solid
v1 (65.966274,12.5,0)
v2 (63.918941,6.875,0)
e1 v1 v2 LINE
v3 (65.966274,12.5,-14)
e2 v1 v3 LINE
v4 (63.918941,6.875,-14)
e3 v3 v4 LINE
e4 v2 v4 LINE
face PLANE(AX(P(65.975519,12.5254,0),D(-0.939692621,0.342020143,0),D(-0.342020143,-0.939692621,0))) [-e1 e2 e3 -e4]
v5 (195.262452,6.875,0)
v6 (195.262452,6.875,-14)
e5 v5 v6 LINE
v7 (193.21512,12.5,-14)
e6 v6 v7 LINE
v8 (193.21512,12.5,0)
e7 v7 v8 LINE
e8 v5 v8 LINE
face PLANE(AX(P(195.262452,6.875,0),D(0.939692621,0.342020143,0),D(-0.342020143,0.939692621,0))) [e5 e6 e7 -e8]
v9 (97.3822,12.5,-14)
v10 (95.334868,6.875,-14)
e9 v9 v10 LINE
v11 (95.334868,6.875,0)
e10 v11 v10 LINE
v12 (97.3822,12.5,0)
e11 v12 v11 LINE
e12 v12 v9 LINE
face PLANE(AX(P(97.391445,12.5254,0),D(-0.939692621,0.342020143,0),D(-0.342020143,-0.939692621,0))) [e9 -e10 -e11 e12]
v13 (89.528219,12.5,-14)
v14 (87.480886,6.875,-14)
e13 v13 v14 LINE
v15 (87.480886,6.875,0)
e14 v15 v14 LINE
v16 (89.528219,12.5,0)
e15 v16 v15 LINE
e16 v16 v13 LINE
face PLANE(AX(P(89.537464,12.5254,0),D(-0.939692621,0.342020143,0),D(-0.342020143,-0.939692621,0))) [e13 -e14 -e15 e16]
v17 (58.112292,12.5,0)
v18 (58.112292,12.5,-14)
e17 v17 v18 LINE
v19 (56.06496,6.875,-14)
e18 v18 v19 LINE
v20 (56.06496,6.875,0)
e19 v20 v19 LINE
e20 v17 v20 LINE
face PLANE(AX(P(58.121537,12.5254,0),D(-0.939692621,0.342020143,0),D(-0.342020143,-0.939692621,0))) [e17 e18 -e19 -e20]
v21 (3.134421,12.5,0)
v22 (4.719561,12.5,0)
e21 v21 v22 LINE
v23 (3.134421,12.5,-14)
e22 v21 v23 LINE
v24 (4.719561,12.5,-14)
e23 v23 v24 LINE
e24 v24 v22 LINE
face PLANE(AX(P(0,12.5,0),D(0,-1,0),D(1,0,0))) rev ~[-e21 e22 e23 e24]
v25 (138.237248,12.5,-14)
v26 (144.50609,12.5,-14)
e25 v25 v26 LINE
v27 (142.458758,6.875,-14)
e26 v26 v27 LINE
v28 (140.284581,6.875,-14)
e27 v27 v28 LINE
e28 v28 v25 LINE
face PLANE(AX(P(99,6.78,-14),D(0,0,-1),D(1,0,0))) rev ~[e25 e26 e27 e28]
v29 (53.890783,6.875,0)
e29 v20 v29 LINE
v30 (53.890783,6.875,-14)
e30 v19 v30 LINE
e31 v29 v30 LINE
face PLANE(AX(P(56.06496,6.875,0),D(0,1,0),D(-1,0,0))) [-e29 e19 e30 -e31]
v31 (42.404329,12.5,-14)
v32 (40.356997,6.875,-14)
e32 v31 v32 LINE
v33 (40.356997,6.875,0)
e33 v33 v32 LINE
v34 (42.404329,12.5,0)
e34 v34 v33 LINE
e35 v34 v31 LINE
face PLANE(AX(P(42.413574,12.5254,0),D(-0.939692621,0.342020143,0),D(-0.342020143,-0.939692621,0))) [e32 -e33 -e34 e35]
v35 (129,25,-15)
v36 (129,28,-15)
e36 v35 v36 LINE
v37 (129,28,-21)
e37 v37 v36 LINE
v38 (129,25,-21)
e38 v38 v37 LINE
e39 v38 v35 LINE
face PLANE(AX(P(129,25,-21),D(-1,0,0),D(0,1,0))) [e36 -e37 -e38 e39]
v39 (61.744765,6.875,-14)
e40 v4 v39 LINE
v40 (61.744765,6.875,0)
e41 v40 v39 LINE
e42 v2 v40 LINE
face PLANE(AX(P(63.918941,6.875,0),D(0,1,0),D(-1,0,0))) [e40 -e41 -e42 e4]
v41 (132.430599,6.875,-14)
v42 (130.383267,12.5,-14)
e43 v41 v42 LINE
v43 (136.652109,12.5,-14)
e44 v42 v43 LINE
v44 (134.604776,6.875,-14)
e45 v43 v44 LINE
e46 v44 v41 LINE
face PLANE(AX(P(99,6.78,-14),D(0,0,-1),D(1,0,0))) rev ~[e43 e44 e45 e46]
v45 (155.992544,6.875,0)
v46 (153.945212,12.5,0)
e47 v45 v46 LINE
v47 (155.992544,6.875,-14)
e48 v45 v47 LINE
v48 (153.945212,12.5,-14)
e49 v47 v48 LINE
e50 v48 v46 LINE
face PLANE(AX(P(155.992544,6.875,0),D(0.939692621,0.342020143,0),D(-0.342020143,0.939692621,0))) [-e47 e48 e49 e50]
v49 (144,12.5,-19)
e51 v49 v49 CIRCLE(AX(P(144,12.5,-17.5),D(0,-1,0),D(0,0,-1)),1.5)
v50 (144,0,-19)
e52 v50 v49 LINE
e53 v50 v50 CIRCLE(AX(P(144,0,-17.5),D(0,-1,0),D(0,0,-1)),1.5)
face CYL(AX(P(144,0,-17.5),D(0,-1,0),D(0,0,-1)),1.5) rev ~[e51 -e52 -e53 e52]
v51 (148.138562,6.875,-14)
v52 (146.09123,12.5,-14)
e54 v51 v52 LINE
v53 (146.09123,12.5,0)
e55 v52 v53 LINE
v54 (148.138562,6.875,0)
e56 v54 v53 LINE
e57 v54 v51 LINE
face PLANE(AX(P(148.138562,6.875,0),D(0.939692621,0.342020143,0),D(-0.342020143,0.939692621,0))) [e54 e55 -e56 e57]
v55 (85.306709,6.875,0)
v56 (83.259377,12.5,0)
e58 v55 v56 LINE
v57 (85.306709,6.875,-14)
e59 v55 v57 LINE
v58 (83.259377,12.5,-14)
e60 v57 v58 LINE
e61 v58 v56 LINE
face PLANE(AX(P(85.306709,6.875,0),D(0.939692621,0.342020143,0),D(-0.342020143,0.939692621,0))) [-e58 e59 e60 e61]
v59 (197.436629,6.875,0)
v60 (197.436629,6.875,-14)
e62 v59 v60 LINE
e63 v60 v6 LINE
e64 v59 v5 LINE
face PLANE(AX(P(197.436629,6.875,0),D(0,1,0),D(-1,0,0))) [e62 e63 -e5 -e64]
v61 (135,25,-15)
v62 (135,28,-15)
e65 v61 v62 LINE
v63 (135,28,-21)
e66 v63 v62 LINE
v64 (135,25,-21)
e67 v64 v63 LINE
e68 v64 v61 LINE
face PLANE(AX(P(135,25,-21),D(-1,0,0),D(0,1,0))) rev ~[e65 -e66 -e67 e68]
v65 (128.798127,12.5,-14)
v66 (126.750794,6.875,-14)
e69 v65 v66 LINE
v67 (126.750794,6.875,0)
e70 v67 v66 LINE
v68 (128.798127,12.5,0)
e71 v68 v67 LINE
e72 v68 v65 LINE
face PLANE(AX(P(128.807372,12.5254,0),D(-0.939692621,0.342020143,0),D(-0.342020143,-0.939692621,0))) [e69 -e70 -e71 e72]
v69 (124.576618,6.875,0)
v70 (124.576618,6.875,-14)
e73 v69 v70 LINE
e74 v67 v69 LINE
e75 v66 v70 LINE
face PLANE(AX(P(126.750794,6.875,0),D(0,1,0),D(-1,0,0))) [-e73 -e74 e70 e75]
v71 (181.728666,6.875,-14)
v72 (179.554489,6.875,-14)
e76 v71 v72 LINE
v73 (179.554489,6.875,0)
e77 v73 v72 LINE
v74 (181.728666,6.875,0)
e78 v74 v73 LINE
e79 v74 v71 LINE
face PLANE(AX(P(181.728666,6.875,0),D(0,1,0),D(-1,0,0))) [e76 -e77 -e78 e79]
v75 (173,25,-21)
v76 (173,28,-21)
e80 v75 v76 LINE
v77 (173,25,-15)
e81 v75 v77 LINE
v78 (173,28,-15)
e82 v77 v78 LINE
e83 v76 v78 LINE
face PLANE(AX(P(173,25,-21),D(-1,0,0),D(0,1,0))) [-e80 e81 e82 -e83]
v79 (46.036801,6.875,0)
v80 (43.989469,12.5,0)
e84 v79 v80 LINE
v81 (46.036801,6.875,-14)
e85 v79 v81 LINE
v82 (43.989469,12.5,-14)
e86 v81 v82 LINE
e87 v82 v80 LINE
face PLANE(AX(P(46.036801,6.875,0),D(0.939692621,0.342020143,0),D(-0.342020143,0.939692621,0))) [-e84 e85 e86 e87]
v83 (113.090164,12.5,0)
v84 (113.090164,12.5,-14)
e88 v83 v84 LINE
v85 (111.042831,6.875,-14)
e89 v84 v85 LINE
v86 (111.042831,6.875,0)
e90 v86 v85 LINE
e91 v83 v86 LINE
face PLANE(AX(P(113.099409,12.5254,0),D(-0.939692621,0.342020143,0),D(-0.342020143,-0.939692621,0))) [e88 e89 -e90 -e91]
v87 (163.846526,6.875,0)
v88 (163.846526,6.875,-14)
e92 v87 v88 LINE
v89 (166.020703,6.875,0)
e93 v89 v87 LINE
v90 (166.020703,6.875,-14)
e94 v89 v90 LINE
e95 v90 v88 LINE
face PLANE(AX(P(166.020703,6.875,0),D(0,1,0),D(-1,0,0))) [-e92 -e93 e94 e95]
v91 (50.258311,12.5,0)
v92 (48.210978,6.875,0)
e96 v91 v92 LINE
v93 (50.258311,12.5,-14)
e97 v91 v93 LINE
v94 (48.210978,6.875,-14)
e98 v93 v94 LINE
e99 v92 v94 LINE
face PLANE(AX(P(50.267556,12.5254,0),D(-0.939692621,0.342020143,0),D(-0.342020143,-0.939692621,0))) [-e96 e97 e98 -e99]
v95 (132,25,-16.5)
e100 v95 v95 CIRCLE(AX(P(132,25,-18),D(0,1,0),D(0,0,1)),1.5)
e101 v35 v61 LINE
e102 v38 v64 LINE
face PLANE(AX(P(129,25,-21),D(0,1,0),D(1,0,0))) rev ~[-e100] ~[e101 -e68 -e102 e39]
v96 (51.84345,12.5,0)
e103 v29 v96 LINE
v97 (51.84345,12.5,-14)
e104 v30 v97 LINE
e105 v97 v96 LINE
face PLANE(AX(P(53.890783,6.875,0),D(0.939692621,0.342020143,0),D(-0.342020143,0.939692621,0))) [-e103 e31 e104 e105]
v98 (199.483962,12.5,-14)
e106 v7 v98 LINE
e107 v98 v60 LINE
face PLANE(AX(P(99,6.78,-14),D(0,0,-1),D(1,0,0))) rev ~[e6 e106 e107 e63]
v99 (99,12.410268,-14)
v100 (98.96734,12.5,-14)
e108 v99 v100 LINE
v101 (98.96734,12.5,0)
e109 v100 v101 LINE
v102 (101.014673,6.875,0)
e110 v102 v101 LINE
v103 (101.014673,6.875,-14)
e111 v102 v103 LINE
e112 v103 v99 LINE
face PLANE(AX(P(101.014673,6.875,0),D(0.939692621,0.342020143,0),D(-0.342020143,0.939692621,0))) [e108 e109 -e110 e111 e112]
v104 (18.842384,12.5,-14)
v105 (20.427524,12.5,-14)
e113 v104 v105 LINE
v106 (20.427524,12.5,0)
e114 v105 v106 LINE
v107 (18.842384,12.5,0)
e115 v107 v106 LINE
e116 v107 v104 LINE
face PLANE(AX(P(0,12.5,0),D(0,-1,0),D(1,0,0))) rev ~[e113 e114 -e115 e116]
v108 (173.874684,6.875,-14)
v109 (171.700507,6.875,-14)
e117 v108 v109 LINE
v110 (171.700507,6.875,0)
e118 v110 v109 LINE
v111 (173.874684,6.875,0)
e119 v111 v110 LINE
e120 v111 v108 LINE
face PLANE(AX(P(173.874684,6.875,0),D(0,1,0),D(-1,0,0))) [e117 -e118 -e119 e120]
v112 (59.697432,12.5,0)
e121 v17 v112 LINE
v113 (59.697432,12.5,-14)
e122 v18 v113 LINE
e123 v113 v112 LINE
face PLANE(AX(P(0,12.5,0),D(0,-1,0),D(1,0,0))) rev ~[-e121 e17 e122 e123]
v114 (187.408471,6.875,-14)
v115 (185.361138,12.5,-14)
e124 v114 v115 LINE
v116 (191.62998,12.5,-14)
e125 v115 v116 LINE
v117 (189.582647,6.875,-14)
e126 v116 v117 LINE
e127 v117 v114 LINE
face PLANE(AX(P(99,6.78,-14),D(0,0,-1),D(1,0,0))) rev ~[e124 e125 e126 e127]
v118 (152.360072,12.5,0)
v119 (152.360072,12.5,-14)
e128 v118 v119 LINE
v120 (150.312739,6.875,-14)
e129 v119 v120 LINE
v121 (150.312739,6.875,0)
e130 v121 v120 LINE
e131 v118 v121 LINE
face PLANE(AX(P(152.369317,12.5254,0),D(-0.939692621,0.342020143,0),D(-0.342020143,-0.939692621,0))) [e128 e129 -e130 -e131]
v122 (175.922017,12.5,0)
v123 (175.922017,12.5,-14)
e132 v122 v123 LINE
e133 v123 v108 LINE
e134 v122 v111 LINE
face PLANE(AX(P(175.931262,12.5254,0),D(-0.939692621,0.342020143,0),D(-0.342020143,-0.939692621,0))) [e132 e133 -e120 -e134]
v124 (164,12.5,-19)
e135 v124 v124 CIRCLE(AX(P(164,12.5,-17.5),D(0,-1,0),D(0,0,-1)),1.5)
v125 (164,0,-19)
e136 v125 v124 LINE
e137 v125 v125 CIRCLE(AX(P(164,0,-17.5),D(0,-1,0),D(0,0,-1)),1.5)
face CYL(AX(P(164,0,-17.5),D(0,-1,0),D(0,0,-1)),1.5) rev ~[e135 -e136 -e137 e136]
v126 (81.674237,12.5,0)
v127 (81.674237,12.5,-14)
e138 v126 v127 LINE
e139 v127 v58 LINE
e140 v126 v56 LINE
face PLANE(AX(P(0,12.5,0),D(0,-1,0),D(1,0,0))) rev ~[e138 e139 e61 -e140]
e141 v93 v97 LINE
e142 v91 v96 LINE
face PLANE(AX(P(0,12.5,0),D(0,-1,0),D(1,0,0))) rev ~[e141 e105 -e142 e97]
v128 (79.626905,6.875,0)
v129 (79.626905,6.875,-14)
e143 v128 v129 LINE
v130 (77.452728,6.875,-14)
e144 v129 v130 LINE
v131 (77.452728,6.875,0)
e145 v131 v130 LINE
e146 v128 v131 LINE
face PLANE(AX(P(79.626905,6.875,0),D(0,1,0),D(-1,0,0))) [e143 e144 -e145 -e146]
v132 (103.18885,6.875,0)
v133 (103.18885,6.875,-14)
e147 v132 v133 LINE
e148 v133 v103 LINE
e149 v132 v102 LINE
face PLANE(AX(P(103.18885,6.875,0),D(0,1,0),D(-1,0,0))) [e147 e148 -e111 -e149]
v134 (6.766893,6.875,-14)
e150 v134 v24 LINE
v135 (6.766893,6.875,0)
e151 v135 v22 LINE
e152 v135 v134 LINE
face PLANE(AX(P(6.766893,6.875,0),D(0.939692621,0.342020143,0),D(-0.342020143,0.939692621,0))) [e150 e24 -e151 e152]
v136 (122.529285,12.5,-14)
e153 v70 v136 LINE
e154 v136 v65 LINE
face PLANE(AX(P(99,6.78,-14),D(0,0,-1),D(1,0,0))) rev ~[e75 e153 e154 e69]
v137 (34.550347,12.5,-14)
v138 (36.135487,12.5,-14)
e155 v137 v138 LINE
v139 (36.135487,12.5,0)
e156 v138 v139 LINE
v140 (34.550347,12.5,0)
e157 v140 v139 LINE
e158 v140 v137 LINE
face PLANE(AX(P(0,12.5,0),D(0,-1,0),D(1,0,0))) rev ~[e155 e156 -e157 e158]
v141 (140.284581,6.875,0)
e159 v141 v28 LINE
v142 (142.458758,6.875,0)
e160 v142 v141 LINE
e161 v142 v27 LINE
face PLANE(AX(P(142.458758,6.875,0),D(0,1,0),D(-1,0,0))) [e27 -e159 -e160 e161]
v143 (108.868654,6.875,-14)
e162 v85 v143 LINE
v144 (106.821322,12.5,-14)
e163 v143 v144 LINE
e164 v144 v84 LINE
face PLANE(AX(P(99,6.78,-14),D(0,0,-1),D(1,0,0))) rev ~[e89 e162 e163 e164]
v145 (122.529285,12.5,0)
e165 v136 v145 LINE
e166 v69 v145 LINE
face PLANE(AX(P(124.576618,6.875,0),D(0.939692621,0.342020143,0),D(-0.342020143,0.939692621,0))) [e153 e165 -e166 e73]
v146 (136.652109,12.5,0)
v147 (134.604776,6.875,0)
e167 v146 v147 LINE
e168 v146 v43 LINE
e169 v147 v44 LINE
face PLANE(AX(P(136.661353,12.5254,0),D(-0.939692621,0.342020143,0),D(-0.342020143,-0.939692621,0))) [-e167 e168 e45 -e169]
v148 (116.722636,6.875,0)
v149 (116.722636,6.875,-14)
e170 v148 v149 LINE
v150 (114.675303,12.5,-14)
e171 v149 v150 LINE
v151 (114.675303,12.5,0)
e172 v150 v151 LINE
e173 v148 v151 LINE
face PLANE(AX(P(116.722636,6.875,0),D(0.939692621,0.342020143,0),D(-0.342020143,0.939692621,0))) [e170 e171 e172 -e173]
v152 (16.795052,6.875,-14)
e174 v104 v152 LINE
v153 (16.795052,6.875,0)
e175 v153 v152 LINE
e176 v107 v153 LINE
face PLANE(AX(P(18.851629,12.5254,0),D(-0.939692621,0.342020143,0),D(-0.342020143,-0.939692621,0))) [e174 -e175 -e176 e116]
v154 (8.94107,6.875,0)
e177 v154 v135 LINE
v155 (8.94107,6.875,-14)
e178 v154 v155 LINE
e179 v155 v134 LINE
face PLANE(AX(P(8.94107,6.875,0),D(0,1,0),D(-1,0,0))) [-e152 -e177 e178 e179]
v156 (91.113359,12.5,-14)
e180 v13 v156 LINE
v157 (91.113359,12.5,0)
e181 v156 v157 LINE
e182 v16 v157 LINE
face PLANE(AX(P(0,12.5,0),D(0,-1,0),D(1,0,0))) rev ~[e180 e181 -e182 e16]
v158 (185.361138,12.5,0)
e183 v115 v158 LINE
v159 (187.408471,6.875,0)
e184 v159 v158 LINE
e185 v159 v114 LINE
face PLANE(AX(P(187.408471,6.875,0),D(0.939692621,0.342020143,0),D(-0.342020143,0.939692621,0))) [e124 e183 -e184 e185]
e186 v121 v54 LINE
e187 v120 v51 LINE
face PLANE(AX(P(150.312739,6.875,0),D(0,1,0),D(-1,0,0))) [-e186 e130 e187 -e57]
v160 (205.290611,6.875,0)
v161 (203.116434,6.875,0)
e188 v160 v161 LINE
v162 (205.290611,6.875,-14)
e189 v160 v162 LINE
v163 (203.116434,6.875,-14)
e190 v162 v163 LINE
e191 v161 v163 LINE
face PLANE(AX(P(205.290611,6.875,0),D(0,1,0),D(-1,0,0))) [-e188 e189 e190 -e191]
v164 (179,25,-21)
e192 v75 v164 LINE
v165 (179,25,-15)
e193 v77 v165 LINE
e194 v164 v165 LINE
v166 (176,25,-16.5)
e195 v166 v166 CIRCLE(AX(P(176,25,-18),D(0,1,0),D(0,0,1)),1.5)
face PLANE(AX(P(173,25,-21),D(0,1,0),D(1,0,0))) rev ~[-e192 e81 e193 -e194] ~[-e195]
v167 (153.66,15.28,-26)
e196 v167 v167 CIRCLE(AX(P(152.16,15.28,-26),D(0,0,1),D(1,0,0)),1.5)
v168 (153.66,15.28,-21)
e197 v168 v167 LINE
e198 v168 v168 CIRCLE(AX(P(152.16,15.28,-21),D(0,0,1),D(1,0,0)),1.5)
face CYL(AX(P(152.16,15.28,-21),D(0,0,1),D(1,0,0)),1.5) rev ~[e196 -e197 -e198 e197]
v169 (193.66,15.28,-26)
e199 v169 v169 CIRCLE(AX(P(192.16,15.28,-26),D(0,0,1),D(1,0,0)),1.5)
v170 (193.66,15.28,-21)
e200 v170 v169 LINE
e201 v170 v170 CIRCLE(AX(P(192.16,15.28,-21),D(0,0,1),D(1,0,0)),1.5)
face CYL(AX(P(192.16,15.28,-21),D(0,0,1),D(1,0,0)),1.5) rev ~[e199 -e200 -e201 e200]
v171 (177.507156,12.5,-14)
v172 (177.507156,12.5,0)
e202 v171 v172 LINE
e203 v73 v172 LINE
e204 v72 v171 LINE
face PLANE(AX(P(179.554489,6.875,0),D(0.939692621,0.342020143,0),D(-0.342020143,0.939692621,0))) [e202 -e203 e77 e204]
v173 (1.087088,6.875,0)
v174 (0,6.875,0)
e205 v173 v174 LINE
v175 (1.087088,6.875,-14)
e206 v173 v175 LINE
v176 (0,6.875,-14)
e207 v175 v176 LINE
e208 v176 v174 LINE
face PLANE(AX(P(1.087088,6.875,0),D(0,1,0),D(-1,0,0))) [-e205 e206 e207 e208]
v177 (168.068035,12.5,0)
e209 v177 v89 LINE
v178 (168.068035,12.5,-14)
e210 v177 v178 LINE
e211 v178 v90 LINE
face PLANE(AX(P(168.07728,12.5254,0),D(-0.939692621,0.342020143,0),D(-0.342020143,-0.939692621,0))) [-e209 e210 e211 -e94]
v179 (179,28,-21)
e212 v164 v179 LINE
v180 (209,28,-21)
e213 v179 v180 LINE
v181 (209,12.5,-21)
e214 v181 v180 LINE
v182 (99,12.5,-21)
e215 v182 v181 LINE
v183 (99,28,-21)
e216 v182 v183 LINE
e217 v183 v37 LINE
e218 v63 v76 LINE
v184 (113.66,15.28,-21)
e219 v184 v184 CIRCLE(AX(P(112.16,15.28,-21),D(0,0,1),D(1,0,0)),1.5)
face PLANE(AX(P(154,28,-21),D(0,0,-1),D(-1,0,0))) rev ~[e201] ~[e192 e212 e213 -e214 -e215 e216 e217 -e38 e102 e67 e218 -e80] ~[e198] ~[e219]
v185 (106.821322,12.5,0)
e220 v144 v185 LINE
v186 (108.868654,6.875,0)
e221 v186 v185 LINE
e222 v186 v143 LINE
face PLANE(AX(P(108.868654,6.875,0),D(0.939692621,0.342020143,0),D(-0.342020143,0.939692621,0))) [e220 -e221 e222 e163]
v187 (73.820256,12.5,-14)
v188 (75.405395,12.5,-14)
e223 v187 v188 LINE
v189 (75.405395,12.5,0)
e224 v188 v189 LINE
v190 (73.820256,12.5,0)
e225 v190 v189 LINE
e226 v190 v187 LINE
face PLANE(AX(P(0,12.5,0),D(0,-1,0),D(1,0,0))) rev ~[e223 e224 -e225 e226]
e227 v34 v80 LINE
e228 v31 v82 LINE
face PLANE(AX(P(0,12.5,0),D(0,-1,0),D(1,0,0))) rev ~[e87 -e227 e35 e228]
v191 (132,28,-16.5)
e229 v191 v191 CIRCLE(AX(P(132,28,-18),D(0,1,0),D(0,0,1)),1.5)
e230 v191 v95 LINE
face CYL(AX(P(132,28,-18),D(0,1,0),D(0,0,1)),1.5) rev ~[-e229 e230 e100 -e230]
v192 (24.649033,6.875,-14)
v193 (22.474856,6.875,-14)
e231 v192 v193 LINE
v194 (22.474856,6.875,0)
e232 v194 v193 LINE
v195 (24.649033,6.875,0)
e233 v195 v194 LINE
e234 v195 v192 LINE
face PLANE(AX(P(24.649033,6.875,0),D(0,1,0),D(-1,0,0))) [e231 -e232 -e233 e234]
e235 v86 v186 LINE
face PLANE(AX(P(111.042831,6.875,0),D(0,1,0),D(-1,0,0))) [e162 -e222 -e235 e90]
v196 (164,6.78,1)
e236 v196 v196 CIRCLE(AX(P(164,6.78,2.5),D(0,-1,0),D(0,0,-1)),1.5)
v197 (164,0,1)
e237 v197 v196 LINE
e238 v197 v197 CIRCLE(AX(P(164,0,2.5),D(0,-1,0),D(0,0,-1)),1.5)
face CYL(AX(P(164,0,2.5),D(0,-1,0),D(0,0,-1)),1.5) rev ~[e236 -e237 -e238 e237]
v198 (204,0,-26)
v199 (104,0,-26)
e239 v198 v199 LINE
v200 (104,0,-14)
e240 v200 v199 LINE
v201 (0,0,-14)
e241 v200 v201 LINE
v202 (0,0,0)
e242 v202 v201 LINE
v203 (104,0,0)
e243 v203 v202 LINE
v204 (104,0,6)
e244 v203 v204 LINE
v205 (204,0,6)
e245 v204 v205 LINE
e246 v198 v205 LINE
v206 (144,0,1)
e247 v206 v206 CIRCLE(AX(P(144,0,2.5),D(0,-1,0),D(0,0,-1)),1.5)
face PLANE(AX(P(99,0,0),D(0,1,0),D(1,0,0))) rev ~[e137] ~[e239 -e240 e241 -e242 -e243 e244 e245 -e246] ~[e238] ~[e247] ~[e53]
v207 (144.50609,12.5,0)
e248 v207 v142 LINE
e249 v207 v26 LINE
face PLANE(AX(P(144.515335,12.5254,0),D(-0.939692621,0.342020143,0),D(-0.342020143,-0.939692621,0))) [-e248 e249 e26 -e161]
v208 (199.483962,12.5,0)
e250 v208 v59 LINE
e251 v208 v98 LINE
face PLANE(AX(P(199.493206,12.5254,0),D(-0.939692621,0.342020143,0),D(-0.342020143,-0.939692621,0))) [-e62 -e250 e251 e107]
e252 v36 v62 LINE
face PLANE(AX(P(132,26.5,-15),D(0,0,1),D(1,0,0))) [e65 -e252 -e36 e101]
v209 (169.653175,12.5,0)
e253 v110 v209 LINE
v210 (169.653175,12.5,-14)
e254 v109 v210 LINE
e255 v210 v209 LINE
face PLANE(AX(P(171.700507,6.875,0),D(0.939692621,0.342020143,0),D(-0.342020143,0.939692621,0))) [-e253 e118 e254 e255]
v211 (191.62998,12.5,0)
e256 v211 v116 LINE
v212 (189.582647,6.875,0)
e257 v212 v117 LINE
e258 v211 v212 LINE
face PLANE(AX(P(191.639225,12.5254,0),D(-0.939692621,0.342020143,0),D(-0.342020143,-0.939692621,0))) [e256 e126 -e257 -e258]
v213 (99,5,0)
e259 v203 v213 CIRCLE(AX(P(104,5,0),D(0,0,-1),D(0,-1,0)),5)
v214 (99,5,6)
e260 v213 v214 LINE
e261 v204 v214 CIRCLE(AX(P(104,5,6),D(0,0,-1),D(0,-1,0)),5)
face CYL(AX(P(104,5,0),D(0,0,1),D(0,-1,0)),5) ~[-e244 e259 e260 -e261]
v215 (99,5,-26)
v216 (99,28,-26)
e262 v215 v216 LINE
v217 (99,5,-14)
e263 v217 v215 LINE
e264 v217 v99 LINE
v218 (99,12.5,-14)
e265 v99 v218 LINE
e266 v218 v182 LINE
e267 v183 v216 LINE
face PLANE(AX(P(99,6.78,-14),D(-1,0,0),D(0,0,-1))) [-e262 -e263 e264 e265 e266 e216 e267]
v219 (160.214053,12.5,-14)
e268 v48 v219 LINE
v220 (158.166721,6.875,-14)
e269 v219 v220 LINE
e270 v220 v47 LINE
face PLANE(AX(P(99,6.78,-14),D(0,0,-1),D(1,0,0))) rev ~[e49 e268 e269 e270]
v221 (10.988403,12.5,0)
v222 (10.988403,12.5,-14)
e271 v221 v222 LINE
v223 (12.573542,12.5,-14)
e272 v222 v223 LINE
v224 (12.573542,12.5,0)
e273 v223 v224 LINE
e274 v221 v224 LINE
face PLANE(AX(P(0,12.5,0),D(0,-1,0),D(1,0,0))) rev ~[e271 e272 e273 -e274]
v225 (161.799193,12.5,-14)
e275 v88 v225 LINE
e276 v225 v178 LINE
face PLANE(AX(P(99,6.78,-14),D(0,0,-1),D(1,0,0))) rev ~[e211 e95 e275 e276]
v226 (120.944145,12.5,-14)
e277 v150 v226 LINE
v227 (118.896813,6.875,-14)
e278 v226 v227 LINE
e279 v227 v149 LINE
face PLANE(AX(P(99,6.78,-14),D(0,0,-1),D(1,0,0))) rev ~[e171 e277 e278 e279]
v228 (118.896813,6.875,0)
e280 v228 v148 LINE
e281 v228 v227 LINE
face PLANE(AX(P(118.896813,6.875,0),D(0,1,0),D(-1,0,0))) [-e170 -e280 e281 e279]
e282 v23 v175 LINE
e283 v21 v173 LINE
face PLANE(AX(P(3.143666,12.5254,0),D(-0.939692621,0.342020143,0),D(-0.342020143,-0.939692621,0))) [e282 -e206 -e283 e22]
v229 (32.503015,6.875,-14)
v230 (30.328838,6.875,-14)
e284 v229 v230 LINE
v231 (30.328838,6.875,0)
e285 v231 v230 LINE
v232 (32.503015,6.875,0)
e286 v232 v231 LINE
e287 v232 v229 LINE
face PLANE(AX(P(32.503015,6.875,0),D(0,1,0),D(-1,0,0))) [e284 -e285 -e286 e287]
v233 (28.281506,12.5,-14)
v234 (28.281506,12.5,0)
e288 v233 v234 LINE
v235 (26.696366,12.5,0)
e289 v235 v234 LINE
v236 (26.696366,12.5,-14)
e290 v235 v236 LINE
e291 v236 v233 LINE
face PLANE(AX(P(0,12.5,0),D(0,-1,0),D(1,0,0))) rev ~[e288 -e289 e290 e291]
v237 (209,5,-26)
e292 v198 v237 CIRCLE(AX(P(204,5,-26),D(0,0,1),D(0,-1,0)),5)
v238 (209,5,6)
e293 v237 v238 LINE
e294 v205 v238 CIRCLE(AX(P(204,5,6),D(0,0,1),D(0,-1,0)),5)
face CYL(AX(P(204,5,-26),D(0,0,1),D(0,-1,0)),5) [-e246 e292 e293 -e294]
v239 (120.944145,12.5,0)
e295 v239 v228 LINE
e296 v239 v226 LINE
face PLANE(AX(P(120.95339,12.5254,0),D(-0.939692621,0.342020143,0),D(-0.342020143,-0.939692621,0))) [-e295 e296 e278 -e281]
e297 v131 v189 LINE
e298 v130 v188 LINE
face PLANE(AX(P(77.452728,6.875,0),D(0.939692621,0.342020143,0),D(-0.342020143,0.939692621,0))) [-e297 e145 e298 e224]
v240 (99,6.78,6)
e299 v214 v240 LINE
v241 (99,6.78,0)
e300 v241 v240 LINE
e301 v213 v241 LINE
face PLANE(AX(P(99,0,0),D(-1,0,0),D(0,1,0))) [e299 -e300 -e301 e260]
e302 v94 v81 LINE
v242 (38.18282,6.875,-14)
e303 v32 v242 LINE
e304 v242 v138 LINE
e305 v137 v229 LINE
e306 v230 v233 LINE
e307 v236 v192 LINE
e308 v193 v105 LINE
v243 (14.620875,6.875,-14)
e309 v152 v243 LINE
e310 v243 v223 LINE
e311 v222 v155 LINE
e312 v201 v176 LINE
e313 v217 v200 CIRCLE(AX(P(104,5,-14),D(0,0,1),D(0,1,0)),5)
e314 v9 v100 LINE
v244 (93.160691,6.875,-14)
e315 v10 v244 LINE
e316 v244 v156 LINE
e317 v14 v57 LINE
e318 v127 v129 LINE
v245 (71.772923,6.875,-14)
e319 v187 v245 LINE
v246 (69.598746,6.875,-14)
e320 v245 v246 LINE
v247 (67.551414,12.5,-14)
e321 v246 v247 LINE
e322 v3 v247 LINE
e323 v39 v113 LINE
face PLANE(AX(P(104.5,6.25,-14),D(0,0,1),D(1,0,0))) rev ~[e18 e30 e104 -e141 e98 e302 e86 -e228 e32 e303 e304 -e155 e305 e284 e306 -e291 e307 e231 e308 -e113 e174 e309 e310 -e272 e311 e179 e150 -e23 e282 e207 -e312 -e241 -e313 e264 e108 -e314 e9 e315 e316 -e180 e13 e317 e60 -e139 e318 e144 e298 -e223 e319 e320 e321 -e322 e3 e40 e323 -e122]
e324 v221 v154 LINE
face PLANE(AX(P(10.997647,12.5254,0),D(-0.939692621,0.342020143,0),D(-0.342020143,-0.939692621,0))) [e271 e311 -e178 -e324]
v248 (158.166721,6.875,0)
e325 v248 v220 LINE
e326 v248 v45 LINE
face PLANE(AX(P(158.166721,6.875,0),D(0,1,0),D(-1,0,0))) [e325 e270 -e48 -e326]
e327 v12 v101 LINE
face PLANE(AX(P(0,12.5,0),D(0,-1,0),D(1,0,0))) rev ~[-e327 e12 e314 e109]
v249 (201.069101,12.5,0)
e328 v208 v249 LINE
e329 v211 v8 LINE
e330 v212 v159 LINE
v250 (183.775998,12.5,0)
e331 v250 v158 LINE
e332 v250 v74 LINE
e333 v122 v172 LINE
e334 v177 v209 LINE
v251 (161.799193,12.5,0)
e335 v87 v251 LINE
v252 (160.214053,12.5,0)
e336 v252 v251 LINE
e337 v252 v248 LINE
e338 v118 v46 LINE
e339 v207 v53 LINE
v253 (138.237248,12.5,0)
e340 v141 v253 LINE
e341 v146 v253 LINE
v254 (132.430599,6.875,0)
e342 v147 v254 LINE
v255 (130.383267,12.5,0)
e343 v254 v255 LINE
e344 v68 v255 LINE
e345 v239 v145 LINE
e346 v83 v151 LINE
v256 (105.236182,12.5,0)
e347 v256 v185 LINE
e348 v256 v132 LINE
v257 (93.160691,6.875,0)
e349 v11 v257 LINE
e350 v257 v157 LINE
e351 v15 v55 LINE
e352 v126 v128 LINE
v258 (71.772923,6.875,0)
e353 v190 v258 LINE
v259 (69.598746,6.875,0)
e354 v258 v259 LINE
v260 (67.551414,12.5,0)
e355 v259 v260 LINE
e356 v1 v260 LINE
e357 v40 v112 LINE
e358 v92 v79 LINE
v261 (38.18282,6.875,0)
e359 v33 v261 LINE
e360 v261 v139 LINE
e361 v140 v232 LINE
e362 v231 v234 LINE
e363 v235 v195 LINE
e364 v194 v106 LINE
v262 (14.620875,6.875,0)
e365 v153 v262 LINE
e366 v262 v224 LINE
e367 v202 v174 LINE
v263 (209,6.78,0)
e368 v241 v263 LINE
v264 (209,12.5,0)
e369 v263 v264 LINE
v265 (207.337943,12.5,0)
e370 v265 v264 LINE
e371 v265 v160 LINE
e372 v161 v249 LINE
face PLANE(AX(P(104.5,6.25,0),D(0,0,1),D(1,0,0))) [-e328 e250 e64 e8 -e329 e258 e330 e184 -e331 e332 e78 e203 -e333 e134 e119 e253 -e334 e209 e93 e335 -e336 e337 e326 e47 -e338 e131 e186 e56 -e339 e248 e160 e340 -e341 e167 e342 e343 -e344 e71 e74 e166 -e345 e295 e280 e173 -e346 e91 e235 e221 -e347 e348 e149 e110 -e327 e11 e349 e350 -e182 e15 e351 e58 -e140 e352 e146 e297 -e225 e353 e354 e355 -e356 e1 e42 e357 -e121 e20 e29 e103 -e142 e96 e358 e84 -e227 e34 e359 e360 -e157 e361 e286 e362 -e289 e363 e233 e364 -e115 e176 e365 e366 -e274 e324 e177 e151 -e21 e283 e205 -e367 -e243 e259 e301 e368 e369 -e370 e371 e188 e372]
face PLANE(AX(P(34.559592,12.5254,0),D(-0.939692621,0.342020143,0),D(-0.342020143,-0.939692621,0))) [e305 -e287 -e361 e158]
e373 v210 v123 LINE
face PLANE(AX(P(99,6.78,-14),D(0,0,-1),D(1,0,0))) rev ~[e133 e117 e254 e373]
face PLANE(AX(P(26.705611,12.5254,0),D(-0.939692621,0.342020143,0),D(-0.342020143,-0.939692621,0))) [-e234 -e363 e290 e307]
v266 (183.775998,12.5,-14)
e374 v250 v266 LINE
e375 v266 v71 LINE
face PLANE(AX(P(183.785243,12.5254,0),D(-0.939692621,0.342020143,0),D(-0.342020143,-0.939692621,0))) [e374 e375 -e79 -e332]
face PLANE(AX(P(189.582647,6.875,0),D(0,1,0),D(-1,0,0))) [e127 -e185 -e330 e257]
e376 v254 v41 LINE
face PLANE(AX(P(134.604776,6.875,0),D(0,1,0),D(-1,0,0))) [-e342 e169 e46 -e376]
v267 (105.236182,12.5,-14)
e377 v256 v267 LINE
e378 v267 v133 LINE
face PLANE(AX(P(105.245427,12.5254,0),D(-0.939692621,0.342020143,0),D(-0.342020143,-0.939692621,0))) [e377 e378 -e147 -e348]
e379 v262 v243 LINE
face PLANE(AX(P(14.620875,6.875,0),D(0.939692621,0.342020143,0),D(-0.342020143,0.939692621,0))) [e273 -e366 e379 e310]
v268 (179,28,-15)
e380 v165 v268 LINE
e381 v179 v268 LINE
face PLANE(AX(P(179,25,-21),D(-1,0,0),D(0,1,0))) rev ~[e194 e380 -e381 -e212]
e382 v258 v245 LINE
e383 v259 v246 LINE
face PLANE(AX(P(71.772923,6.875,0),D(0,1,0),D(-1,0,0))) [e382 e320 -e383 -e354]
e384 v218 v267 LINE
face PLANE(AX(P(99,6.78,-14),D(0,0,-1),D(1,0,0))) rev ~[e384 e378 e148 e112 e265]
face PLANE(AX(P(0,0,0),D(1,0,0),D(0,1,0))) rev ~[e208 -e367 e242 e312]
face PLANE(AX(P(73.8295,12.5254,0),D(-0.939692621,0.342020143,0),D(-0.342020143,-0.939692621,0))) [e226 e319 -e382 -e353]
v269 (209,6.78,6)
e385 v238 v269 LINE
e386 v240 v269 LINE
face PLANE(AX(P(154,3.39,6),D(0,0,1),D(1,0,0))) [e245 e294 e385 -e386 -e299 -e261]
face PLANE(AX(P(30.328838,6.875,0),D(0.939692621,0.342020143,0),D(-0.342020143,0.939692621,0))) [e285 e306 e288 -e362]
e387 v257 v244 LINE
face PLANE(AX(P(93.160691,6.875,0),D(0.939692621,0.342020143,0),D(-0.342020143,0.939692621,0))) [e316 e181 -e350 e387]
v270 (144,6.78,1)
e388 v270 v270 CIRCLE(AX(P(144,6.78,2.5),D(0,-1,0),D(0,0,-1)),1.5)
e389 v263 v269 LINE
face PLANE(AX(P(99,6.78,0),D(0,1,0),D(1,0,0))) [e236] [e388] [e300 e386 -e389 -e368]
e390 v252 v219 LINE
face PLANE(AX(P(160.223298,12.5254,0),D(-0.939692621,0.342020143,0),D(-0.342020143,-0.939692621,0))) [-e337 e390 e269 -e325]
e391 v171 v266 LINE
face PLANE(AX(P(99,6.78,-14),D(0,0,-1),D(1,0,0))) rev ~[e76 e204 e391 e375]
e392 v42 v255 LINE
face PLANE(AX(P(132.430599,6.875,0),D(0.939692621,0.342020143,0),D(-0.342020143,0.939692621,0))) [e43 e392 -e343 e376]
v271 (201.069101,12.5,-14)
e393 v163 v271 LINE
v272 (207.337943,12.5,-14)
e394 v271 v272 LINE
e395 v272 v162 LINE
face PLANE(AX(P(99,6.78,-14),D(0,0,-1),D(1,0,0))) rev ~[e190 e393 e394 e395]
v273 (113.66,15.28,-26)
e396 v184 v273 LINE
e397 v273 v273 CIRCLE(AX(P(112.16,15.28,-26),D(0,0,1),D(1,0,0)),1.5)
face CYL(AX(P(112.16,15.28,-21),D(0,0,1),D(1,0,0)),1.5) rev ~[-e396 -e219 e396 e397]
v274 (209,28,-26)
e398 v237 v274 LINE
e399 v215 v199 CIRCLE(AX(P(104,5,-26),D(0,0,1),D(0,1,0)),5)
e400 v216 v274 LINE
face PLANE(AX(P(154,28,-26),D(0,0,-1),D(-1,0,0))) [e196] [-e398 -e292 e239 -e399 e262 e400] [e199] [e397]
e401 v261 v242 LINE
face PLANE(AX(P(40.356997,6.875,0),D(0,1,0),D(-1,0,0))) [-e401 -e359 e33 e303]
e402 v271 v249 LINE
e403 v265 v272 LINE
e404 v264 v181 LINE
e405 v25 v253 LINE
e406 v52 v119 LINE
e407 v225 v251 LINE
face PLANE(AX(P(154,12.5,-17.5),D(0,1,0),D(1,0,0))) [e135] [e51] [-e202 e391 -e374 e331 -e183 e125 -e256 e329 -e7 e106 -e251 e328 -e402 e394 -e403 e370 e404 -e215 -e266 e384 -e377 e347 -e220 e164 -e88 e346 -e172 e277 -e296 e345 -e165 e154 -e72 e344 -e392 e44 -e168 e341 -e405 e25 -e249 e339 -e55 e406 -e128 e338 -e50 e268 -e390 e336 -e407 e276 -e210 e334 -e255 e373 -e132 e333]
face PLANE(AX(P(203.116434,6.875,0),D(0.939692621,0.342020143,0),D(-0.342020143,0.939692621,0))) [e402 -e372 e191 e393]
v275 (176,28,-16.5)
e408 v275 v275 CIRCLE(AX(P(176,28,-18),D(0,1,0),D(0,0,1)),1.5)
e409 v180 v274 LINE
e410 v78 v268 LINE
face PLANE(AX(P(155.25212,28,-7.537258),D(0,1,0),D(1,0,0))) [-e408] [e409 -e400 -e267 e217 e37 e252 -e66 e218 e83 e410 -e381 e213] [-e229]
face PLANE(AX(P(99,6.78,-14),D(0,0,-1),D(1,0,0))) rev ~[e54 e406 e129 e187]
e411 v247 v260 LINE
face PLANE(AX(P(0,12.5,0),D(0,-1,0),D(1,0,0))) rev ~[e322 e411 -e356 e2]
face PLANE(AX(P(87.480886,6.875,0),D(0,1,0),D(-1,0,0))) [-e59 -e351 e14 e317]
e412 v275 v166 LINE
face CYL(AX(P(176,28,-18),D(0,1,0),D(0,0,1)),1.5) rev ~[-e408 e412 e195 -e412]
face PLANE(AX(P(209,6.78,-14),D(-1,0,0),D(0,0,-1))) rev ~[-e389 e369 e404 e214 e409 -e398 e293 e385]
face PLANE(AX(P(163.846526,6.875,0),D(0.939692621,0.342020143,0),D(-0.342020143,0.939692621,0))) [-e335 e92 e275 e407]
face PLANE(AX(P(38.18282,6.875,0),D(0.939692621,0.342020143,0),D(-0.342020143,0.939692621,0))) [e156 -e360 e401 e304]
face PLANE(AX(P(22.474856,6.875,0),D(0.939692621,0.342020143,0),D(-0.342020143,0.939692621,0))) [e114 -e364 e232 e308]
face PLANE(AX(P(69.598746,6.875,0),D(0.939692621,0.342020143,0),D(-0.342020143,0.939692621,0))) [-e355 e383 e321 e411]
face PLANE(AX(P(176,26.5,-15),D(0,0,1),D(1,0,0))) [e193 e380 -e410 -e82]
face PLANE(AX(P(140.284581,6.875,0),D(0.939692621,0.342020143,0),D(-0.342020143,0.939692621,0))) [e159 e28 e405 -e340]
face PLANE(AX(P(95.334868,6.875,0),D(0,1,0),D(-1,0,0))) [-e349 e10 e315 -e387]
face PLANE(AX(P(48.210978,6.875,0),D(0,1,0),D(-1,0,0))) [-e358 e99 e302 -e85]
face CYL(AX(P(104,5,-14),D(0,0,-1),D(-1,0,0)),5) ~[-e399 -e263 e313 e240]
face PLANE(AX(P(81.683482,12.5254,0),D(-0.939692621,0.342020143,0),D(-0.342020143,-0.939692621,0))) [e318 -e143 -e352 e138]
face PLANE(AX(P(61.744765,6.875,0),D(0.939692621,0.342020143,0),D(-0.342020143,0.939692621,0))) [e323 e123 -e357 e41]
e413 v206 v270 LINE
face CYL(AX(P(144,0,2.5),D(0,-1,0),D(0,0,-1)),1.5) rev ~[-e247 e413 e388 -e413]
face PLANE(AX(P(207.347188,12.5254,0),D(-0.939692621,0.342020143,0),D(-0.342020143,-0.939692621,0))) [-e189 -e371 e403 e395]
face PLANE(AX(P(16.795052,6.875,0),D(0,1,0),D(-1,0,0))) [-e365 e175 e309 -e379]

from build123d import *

# Parameters (mm, degrees)
BLANKSKE_W          = 209
BLANKSKE_H          = 12.5
BLANK_DEPTH         = 14
TOOTHCUTSIM_DEPTH   = 210.841011244
TEETHCUTS_COUNT     = 27
TEETHCUTS_PITCH     = 7.853981625
SKETCH2_W           = 110
SKETCH2_H           = 6.78
BOSS_EXTRUDE2_DEPTH = 7
SKETCH3_W           = 110
SKETCH3_H           = 56
BOSS_EXTRUDE3_DEPTH = 5
SKETCH4_W           = 110
SKETCH4_H           = 6.78
BOSS_EXTRUDE4_DEPTH = 7
SKETCH7_W           = 110
SKETCH7_H           = 6.78
BOSS_EXTRUDE5_DEPTH = 6
SKETCH8_W           = 110
SKETCH8_H           = 6.78
BOSS_EXTRUDE6_DEPTH = 20
SKETCH9_W           = 110
SKETCH9_H           = 7
BOSS_EXTRUDE7_DEPTH = 5.72
SKETCH5_R           = 1.5
CUT_EXTRUDE1_DEPTH  = 218.928887484
SKETCH6_R           = 1.5
CUT_EXTRUDE2_DEPTH  = 219.050452877
FILLET1_R           = 5
SKETCH12_W          = 119.263366365
SKETCH12_H          = 39.167998327
CUT_EXTRUDE3_DEPTH  = 28
SKETCH13_W          = 6
SKETCH13_H          = 3
BOSS_EXTRUDE8_DEPTH = 6
SKETCH14_R          = 1.5
CUT_EXTRUDE4_DEPTH  = 6


with BuildPart() as part:
    # BlankSke → Blank (new body)
    with BuildSketch(Plane.XY):
        with Locations((104.5, 6.25)):
            Rectangle(BLANKSKE_W, BLANKSKE_H)
    extrude(amount=-BLANK_DEPTH)

    # TooCutSkeSim → ToothCutSim (cut, through all)
    with BuildSketch(Plane.XY):
        Polygon((1.087088424, 6.875), (-1.087088424, 6.875), (-3.143665836, 12.5254), (3.143665836, 12.5254), align=None)
    toothcutsim = extrude(amount=-TOOTHCUTSIM_DEPTH, mode=Mode.SUBTRACT)

    # TeethCuts: ToothCutSim ×27
    with Locations(*[(i * TEETHCUTS_PITCH, 0, 0) for i in range(1, TEETHCUTS_COUNT)]):
        add(toothcutsim, mode=Mode.SUBTRACT)

    # Sketch2 → Boss-Extrude2 (add)
    with BuildSketch(Plane(origin=(0, 0, -14), x_dir=(-1, 0, 0), z_dir=(0, 0, -1))):
        with Locations((-154, 3.39)):
            Rectangle(SKETCH2_W, SKETCH2_H)
    extrude(amount=BOSS_EXTRUDE2_DEPTH)

    # Sketch3 → Boss-Extrude3 (add)
    with BuildSketch(Plane(origin=(0, 0, -21), x_dir=(-1, 0, 0), z_dir=(0, 0, -1))):
        with Locations((-154, 28)):
            Rectangle(SKETCH3_W, SKETCH3_H)
    extrude(amount=BOSS_EXTRUDE3_DEPTH)

    # Sketch4 → Boss-Extrude4 (add)
    with BuildSketch(Plane.XY.offset(-21)):
        with Locations((154, 52.61)):
            Rectangle(SKETCH4_W, SKETCH4_H)
    extrude(amount=BOSS_EXTRUDE4_DEPTH)

    # Sketch7 → Boss-Extrude5 (add)
    with BuildSketch(Plane.XY):
        with Locations((154, 3.39)):
            Rectangle(SKETCH7_W, SKETCH7_H)
    extrude(amount=BOSS_EXTRUDE5_DEPTH)

    # Sketch8 → Boss-Extrude6 (add)
    with BuildSketch(Plane.XY.offset(-14)):
        with Locations((154, 52.61)):
            Rectangle(SKETCH8_W, SKETCH8_H)
    extrude(amount=BOSS_EXTRUDE6_DEPTH)

    # Sketch9 → Boss-Extrude7 (add)
    with BuildSketch(Plane(origin=(0, 6.78, 0), x_dir=(1, 0, 0), z_dir=(0, 1, 0))):
        with Locations((154, 17.5)):
            Rectangle(SKETCH9_W, SKETCH9_H)
    extrude(amount=BOSS_EXTRUDE7_DEPTH)

    # Sketch5 → Cut-Extrude1 (cut, through all)
    with BuildSketch(Plane.XZ):
        with Locations(Location((164, -17.5, 0), (0, 0, 270))):
            Circle(SKETCH5_R)
        with Locations(Location((144, -17.5, 0), (0, 0, 270))):
            Circle(SKETCH5_R)
        with Locations(Location((144, 2.5, 0), (0, 0, 270))):
            Circle(SKETCH5_R)
        with Locations(Location((164, 2.5, 0), (0, 0, 270))):
            Circle(SKETCH5_R)
    extrude(amount=-CUT_EXTRUDE1_DEPTH, mode=Mode.SUBTRACT)

    # Sketch6 → Cut-Extrude2 (cut, through all)
    with BuildSketch(Plane.XY.offset(-21)):
        with Locations((112.16, 15.28)):
            Circle(SKETCH6_R)
        with Locations((152.16, 15.28)):
            Circle(SKETCH6_R)
        with Locations((192.16, 15.28)):
            Circle(SKETCH6_R)
        with Locations((112.16, 45.28)):
            Circle(SKETCH6_R)
        with Locations((192.16, 45.28)):
            Circle(SKETCH6_R)
        with Locations((152.16, 45.28)):
            Circle(SKETCH6_R)
    extrude(amount=-CUT_EXTRUDE2_DEPTH, mode=Mode.SUBTRACT)

    # Fillet1
    fillet1_edges = [part.edges().sort_by_distance(p)[0] for p in [
        (99, 0, -20),
        (209, 56, -10),
        (99, 56, -10),
        (99, 0, 3),
        (209, 0, -10),
    ]]
    fillet(fillet1_edges, radius=FILLET1_R)

    # Sketch12 → Cut-Extrude3 (cut)
    with BuildSketch(Plane(origin=(0, 56, 0), x_dir=(1, 0, 0), z_dir=(0, 1, 0))):
        with Locations((155.252120093, 7.537257659)):
            Rectangle(SKETCH12_W, SKETCH12_H)
    extrude(amount=-CUT_EXTRUDE3_DEPTH, mode=Mode.SUBTRACT)

    # Sketch13 → Boss-Extrude8 (add)
    with BuildSketch(Plane.XY.offset(-21)):
        with Locations((176, 26.5)):
            Rectangle(SKETCH13_W, SKETCH13_H)
        with Locations((132, 26.5)):
            Rectangle(SKETCH13_W, SKETCH13_H)
    extrude(amount=BOSS_EXTRUDE8_DEPTH)

    # Sketch14 → Cut-Extrude4 (cut)
    with BuildSketch(Plane(origin=(0, 28, 0), x_dir=(-1, 0, 0), z_dir=(0, 1, 0))):
        with Locations(Location((-132, -18, 0), (0, 0, 90))):
            Circle(SKETCH14_R)
        with Locations(Location((-176, -18, 0), (0, 0, 90))):
            Circle(SKETCH14_R)
    extrude(amount=-CUT_EXTRUDE4_DEPTH, mode=Mode.SUBTRACT)


solid = part.part
